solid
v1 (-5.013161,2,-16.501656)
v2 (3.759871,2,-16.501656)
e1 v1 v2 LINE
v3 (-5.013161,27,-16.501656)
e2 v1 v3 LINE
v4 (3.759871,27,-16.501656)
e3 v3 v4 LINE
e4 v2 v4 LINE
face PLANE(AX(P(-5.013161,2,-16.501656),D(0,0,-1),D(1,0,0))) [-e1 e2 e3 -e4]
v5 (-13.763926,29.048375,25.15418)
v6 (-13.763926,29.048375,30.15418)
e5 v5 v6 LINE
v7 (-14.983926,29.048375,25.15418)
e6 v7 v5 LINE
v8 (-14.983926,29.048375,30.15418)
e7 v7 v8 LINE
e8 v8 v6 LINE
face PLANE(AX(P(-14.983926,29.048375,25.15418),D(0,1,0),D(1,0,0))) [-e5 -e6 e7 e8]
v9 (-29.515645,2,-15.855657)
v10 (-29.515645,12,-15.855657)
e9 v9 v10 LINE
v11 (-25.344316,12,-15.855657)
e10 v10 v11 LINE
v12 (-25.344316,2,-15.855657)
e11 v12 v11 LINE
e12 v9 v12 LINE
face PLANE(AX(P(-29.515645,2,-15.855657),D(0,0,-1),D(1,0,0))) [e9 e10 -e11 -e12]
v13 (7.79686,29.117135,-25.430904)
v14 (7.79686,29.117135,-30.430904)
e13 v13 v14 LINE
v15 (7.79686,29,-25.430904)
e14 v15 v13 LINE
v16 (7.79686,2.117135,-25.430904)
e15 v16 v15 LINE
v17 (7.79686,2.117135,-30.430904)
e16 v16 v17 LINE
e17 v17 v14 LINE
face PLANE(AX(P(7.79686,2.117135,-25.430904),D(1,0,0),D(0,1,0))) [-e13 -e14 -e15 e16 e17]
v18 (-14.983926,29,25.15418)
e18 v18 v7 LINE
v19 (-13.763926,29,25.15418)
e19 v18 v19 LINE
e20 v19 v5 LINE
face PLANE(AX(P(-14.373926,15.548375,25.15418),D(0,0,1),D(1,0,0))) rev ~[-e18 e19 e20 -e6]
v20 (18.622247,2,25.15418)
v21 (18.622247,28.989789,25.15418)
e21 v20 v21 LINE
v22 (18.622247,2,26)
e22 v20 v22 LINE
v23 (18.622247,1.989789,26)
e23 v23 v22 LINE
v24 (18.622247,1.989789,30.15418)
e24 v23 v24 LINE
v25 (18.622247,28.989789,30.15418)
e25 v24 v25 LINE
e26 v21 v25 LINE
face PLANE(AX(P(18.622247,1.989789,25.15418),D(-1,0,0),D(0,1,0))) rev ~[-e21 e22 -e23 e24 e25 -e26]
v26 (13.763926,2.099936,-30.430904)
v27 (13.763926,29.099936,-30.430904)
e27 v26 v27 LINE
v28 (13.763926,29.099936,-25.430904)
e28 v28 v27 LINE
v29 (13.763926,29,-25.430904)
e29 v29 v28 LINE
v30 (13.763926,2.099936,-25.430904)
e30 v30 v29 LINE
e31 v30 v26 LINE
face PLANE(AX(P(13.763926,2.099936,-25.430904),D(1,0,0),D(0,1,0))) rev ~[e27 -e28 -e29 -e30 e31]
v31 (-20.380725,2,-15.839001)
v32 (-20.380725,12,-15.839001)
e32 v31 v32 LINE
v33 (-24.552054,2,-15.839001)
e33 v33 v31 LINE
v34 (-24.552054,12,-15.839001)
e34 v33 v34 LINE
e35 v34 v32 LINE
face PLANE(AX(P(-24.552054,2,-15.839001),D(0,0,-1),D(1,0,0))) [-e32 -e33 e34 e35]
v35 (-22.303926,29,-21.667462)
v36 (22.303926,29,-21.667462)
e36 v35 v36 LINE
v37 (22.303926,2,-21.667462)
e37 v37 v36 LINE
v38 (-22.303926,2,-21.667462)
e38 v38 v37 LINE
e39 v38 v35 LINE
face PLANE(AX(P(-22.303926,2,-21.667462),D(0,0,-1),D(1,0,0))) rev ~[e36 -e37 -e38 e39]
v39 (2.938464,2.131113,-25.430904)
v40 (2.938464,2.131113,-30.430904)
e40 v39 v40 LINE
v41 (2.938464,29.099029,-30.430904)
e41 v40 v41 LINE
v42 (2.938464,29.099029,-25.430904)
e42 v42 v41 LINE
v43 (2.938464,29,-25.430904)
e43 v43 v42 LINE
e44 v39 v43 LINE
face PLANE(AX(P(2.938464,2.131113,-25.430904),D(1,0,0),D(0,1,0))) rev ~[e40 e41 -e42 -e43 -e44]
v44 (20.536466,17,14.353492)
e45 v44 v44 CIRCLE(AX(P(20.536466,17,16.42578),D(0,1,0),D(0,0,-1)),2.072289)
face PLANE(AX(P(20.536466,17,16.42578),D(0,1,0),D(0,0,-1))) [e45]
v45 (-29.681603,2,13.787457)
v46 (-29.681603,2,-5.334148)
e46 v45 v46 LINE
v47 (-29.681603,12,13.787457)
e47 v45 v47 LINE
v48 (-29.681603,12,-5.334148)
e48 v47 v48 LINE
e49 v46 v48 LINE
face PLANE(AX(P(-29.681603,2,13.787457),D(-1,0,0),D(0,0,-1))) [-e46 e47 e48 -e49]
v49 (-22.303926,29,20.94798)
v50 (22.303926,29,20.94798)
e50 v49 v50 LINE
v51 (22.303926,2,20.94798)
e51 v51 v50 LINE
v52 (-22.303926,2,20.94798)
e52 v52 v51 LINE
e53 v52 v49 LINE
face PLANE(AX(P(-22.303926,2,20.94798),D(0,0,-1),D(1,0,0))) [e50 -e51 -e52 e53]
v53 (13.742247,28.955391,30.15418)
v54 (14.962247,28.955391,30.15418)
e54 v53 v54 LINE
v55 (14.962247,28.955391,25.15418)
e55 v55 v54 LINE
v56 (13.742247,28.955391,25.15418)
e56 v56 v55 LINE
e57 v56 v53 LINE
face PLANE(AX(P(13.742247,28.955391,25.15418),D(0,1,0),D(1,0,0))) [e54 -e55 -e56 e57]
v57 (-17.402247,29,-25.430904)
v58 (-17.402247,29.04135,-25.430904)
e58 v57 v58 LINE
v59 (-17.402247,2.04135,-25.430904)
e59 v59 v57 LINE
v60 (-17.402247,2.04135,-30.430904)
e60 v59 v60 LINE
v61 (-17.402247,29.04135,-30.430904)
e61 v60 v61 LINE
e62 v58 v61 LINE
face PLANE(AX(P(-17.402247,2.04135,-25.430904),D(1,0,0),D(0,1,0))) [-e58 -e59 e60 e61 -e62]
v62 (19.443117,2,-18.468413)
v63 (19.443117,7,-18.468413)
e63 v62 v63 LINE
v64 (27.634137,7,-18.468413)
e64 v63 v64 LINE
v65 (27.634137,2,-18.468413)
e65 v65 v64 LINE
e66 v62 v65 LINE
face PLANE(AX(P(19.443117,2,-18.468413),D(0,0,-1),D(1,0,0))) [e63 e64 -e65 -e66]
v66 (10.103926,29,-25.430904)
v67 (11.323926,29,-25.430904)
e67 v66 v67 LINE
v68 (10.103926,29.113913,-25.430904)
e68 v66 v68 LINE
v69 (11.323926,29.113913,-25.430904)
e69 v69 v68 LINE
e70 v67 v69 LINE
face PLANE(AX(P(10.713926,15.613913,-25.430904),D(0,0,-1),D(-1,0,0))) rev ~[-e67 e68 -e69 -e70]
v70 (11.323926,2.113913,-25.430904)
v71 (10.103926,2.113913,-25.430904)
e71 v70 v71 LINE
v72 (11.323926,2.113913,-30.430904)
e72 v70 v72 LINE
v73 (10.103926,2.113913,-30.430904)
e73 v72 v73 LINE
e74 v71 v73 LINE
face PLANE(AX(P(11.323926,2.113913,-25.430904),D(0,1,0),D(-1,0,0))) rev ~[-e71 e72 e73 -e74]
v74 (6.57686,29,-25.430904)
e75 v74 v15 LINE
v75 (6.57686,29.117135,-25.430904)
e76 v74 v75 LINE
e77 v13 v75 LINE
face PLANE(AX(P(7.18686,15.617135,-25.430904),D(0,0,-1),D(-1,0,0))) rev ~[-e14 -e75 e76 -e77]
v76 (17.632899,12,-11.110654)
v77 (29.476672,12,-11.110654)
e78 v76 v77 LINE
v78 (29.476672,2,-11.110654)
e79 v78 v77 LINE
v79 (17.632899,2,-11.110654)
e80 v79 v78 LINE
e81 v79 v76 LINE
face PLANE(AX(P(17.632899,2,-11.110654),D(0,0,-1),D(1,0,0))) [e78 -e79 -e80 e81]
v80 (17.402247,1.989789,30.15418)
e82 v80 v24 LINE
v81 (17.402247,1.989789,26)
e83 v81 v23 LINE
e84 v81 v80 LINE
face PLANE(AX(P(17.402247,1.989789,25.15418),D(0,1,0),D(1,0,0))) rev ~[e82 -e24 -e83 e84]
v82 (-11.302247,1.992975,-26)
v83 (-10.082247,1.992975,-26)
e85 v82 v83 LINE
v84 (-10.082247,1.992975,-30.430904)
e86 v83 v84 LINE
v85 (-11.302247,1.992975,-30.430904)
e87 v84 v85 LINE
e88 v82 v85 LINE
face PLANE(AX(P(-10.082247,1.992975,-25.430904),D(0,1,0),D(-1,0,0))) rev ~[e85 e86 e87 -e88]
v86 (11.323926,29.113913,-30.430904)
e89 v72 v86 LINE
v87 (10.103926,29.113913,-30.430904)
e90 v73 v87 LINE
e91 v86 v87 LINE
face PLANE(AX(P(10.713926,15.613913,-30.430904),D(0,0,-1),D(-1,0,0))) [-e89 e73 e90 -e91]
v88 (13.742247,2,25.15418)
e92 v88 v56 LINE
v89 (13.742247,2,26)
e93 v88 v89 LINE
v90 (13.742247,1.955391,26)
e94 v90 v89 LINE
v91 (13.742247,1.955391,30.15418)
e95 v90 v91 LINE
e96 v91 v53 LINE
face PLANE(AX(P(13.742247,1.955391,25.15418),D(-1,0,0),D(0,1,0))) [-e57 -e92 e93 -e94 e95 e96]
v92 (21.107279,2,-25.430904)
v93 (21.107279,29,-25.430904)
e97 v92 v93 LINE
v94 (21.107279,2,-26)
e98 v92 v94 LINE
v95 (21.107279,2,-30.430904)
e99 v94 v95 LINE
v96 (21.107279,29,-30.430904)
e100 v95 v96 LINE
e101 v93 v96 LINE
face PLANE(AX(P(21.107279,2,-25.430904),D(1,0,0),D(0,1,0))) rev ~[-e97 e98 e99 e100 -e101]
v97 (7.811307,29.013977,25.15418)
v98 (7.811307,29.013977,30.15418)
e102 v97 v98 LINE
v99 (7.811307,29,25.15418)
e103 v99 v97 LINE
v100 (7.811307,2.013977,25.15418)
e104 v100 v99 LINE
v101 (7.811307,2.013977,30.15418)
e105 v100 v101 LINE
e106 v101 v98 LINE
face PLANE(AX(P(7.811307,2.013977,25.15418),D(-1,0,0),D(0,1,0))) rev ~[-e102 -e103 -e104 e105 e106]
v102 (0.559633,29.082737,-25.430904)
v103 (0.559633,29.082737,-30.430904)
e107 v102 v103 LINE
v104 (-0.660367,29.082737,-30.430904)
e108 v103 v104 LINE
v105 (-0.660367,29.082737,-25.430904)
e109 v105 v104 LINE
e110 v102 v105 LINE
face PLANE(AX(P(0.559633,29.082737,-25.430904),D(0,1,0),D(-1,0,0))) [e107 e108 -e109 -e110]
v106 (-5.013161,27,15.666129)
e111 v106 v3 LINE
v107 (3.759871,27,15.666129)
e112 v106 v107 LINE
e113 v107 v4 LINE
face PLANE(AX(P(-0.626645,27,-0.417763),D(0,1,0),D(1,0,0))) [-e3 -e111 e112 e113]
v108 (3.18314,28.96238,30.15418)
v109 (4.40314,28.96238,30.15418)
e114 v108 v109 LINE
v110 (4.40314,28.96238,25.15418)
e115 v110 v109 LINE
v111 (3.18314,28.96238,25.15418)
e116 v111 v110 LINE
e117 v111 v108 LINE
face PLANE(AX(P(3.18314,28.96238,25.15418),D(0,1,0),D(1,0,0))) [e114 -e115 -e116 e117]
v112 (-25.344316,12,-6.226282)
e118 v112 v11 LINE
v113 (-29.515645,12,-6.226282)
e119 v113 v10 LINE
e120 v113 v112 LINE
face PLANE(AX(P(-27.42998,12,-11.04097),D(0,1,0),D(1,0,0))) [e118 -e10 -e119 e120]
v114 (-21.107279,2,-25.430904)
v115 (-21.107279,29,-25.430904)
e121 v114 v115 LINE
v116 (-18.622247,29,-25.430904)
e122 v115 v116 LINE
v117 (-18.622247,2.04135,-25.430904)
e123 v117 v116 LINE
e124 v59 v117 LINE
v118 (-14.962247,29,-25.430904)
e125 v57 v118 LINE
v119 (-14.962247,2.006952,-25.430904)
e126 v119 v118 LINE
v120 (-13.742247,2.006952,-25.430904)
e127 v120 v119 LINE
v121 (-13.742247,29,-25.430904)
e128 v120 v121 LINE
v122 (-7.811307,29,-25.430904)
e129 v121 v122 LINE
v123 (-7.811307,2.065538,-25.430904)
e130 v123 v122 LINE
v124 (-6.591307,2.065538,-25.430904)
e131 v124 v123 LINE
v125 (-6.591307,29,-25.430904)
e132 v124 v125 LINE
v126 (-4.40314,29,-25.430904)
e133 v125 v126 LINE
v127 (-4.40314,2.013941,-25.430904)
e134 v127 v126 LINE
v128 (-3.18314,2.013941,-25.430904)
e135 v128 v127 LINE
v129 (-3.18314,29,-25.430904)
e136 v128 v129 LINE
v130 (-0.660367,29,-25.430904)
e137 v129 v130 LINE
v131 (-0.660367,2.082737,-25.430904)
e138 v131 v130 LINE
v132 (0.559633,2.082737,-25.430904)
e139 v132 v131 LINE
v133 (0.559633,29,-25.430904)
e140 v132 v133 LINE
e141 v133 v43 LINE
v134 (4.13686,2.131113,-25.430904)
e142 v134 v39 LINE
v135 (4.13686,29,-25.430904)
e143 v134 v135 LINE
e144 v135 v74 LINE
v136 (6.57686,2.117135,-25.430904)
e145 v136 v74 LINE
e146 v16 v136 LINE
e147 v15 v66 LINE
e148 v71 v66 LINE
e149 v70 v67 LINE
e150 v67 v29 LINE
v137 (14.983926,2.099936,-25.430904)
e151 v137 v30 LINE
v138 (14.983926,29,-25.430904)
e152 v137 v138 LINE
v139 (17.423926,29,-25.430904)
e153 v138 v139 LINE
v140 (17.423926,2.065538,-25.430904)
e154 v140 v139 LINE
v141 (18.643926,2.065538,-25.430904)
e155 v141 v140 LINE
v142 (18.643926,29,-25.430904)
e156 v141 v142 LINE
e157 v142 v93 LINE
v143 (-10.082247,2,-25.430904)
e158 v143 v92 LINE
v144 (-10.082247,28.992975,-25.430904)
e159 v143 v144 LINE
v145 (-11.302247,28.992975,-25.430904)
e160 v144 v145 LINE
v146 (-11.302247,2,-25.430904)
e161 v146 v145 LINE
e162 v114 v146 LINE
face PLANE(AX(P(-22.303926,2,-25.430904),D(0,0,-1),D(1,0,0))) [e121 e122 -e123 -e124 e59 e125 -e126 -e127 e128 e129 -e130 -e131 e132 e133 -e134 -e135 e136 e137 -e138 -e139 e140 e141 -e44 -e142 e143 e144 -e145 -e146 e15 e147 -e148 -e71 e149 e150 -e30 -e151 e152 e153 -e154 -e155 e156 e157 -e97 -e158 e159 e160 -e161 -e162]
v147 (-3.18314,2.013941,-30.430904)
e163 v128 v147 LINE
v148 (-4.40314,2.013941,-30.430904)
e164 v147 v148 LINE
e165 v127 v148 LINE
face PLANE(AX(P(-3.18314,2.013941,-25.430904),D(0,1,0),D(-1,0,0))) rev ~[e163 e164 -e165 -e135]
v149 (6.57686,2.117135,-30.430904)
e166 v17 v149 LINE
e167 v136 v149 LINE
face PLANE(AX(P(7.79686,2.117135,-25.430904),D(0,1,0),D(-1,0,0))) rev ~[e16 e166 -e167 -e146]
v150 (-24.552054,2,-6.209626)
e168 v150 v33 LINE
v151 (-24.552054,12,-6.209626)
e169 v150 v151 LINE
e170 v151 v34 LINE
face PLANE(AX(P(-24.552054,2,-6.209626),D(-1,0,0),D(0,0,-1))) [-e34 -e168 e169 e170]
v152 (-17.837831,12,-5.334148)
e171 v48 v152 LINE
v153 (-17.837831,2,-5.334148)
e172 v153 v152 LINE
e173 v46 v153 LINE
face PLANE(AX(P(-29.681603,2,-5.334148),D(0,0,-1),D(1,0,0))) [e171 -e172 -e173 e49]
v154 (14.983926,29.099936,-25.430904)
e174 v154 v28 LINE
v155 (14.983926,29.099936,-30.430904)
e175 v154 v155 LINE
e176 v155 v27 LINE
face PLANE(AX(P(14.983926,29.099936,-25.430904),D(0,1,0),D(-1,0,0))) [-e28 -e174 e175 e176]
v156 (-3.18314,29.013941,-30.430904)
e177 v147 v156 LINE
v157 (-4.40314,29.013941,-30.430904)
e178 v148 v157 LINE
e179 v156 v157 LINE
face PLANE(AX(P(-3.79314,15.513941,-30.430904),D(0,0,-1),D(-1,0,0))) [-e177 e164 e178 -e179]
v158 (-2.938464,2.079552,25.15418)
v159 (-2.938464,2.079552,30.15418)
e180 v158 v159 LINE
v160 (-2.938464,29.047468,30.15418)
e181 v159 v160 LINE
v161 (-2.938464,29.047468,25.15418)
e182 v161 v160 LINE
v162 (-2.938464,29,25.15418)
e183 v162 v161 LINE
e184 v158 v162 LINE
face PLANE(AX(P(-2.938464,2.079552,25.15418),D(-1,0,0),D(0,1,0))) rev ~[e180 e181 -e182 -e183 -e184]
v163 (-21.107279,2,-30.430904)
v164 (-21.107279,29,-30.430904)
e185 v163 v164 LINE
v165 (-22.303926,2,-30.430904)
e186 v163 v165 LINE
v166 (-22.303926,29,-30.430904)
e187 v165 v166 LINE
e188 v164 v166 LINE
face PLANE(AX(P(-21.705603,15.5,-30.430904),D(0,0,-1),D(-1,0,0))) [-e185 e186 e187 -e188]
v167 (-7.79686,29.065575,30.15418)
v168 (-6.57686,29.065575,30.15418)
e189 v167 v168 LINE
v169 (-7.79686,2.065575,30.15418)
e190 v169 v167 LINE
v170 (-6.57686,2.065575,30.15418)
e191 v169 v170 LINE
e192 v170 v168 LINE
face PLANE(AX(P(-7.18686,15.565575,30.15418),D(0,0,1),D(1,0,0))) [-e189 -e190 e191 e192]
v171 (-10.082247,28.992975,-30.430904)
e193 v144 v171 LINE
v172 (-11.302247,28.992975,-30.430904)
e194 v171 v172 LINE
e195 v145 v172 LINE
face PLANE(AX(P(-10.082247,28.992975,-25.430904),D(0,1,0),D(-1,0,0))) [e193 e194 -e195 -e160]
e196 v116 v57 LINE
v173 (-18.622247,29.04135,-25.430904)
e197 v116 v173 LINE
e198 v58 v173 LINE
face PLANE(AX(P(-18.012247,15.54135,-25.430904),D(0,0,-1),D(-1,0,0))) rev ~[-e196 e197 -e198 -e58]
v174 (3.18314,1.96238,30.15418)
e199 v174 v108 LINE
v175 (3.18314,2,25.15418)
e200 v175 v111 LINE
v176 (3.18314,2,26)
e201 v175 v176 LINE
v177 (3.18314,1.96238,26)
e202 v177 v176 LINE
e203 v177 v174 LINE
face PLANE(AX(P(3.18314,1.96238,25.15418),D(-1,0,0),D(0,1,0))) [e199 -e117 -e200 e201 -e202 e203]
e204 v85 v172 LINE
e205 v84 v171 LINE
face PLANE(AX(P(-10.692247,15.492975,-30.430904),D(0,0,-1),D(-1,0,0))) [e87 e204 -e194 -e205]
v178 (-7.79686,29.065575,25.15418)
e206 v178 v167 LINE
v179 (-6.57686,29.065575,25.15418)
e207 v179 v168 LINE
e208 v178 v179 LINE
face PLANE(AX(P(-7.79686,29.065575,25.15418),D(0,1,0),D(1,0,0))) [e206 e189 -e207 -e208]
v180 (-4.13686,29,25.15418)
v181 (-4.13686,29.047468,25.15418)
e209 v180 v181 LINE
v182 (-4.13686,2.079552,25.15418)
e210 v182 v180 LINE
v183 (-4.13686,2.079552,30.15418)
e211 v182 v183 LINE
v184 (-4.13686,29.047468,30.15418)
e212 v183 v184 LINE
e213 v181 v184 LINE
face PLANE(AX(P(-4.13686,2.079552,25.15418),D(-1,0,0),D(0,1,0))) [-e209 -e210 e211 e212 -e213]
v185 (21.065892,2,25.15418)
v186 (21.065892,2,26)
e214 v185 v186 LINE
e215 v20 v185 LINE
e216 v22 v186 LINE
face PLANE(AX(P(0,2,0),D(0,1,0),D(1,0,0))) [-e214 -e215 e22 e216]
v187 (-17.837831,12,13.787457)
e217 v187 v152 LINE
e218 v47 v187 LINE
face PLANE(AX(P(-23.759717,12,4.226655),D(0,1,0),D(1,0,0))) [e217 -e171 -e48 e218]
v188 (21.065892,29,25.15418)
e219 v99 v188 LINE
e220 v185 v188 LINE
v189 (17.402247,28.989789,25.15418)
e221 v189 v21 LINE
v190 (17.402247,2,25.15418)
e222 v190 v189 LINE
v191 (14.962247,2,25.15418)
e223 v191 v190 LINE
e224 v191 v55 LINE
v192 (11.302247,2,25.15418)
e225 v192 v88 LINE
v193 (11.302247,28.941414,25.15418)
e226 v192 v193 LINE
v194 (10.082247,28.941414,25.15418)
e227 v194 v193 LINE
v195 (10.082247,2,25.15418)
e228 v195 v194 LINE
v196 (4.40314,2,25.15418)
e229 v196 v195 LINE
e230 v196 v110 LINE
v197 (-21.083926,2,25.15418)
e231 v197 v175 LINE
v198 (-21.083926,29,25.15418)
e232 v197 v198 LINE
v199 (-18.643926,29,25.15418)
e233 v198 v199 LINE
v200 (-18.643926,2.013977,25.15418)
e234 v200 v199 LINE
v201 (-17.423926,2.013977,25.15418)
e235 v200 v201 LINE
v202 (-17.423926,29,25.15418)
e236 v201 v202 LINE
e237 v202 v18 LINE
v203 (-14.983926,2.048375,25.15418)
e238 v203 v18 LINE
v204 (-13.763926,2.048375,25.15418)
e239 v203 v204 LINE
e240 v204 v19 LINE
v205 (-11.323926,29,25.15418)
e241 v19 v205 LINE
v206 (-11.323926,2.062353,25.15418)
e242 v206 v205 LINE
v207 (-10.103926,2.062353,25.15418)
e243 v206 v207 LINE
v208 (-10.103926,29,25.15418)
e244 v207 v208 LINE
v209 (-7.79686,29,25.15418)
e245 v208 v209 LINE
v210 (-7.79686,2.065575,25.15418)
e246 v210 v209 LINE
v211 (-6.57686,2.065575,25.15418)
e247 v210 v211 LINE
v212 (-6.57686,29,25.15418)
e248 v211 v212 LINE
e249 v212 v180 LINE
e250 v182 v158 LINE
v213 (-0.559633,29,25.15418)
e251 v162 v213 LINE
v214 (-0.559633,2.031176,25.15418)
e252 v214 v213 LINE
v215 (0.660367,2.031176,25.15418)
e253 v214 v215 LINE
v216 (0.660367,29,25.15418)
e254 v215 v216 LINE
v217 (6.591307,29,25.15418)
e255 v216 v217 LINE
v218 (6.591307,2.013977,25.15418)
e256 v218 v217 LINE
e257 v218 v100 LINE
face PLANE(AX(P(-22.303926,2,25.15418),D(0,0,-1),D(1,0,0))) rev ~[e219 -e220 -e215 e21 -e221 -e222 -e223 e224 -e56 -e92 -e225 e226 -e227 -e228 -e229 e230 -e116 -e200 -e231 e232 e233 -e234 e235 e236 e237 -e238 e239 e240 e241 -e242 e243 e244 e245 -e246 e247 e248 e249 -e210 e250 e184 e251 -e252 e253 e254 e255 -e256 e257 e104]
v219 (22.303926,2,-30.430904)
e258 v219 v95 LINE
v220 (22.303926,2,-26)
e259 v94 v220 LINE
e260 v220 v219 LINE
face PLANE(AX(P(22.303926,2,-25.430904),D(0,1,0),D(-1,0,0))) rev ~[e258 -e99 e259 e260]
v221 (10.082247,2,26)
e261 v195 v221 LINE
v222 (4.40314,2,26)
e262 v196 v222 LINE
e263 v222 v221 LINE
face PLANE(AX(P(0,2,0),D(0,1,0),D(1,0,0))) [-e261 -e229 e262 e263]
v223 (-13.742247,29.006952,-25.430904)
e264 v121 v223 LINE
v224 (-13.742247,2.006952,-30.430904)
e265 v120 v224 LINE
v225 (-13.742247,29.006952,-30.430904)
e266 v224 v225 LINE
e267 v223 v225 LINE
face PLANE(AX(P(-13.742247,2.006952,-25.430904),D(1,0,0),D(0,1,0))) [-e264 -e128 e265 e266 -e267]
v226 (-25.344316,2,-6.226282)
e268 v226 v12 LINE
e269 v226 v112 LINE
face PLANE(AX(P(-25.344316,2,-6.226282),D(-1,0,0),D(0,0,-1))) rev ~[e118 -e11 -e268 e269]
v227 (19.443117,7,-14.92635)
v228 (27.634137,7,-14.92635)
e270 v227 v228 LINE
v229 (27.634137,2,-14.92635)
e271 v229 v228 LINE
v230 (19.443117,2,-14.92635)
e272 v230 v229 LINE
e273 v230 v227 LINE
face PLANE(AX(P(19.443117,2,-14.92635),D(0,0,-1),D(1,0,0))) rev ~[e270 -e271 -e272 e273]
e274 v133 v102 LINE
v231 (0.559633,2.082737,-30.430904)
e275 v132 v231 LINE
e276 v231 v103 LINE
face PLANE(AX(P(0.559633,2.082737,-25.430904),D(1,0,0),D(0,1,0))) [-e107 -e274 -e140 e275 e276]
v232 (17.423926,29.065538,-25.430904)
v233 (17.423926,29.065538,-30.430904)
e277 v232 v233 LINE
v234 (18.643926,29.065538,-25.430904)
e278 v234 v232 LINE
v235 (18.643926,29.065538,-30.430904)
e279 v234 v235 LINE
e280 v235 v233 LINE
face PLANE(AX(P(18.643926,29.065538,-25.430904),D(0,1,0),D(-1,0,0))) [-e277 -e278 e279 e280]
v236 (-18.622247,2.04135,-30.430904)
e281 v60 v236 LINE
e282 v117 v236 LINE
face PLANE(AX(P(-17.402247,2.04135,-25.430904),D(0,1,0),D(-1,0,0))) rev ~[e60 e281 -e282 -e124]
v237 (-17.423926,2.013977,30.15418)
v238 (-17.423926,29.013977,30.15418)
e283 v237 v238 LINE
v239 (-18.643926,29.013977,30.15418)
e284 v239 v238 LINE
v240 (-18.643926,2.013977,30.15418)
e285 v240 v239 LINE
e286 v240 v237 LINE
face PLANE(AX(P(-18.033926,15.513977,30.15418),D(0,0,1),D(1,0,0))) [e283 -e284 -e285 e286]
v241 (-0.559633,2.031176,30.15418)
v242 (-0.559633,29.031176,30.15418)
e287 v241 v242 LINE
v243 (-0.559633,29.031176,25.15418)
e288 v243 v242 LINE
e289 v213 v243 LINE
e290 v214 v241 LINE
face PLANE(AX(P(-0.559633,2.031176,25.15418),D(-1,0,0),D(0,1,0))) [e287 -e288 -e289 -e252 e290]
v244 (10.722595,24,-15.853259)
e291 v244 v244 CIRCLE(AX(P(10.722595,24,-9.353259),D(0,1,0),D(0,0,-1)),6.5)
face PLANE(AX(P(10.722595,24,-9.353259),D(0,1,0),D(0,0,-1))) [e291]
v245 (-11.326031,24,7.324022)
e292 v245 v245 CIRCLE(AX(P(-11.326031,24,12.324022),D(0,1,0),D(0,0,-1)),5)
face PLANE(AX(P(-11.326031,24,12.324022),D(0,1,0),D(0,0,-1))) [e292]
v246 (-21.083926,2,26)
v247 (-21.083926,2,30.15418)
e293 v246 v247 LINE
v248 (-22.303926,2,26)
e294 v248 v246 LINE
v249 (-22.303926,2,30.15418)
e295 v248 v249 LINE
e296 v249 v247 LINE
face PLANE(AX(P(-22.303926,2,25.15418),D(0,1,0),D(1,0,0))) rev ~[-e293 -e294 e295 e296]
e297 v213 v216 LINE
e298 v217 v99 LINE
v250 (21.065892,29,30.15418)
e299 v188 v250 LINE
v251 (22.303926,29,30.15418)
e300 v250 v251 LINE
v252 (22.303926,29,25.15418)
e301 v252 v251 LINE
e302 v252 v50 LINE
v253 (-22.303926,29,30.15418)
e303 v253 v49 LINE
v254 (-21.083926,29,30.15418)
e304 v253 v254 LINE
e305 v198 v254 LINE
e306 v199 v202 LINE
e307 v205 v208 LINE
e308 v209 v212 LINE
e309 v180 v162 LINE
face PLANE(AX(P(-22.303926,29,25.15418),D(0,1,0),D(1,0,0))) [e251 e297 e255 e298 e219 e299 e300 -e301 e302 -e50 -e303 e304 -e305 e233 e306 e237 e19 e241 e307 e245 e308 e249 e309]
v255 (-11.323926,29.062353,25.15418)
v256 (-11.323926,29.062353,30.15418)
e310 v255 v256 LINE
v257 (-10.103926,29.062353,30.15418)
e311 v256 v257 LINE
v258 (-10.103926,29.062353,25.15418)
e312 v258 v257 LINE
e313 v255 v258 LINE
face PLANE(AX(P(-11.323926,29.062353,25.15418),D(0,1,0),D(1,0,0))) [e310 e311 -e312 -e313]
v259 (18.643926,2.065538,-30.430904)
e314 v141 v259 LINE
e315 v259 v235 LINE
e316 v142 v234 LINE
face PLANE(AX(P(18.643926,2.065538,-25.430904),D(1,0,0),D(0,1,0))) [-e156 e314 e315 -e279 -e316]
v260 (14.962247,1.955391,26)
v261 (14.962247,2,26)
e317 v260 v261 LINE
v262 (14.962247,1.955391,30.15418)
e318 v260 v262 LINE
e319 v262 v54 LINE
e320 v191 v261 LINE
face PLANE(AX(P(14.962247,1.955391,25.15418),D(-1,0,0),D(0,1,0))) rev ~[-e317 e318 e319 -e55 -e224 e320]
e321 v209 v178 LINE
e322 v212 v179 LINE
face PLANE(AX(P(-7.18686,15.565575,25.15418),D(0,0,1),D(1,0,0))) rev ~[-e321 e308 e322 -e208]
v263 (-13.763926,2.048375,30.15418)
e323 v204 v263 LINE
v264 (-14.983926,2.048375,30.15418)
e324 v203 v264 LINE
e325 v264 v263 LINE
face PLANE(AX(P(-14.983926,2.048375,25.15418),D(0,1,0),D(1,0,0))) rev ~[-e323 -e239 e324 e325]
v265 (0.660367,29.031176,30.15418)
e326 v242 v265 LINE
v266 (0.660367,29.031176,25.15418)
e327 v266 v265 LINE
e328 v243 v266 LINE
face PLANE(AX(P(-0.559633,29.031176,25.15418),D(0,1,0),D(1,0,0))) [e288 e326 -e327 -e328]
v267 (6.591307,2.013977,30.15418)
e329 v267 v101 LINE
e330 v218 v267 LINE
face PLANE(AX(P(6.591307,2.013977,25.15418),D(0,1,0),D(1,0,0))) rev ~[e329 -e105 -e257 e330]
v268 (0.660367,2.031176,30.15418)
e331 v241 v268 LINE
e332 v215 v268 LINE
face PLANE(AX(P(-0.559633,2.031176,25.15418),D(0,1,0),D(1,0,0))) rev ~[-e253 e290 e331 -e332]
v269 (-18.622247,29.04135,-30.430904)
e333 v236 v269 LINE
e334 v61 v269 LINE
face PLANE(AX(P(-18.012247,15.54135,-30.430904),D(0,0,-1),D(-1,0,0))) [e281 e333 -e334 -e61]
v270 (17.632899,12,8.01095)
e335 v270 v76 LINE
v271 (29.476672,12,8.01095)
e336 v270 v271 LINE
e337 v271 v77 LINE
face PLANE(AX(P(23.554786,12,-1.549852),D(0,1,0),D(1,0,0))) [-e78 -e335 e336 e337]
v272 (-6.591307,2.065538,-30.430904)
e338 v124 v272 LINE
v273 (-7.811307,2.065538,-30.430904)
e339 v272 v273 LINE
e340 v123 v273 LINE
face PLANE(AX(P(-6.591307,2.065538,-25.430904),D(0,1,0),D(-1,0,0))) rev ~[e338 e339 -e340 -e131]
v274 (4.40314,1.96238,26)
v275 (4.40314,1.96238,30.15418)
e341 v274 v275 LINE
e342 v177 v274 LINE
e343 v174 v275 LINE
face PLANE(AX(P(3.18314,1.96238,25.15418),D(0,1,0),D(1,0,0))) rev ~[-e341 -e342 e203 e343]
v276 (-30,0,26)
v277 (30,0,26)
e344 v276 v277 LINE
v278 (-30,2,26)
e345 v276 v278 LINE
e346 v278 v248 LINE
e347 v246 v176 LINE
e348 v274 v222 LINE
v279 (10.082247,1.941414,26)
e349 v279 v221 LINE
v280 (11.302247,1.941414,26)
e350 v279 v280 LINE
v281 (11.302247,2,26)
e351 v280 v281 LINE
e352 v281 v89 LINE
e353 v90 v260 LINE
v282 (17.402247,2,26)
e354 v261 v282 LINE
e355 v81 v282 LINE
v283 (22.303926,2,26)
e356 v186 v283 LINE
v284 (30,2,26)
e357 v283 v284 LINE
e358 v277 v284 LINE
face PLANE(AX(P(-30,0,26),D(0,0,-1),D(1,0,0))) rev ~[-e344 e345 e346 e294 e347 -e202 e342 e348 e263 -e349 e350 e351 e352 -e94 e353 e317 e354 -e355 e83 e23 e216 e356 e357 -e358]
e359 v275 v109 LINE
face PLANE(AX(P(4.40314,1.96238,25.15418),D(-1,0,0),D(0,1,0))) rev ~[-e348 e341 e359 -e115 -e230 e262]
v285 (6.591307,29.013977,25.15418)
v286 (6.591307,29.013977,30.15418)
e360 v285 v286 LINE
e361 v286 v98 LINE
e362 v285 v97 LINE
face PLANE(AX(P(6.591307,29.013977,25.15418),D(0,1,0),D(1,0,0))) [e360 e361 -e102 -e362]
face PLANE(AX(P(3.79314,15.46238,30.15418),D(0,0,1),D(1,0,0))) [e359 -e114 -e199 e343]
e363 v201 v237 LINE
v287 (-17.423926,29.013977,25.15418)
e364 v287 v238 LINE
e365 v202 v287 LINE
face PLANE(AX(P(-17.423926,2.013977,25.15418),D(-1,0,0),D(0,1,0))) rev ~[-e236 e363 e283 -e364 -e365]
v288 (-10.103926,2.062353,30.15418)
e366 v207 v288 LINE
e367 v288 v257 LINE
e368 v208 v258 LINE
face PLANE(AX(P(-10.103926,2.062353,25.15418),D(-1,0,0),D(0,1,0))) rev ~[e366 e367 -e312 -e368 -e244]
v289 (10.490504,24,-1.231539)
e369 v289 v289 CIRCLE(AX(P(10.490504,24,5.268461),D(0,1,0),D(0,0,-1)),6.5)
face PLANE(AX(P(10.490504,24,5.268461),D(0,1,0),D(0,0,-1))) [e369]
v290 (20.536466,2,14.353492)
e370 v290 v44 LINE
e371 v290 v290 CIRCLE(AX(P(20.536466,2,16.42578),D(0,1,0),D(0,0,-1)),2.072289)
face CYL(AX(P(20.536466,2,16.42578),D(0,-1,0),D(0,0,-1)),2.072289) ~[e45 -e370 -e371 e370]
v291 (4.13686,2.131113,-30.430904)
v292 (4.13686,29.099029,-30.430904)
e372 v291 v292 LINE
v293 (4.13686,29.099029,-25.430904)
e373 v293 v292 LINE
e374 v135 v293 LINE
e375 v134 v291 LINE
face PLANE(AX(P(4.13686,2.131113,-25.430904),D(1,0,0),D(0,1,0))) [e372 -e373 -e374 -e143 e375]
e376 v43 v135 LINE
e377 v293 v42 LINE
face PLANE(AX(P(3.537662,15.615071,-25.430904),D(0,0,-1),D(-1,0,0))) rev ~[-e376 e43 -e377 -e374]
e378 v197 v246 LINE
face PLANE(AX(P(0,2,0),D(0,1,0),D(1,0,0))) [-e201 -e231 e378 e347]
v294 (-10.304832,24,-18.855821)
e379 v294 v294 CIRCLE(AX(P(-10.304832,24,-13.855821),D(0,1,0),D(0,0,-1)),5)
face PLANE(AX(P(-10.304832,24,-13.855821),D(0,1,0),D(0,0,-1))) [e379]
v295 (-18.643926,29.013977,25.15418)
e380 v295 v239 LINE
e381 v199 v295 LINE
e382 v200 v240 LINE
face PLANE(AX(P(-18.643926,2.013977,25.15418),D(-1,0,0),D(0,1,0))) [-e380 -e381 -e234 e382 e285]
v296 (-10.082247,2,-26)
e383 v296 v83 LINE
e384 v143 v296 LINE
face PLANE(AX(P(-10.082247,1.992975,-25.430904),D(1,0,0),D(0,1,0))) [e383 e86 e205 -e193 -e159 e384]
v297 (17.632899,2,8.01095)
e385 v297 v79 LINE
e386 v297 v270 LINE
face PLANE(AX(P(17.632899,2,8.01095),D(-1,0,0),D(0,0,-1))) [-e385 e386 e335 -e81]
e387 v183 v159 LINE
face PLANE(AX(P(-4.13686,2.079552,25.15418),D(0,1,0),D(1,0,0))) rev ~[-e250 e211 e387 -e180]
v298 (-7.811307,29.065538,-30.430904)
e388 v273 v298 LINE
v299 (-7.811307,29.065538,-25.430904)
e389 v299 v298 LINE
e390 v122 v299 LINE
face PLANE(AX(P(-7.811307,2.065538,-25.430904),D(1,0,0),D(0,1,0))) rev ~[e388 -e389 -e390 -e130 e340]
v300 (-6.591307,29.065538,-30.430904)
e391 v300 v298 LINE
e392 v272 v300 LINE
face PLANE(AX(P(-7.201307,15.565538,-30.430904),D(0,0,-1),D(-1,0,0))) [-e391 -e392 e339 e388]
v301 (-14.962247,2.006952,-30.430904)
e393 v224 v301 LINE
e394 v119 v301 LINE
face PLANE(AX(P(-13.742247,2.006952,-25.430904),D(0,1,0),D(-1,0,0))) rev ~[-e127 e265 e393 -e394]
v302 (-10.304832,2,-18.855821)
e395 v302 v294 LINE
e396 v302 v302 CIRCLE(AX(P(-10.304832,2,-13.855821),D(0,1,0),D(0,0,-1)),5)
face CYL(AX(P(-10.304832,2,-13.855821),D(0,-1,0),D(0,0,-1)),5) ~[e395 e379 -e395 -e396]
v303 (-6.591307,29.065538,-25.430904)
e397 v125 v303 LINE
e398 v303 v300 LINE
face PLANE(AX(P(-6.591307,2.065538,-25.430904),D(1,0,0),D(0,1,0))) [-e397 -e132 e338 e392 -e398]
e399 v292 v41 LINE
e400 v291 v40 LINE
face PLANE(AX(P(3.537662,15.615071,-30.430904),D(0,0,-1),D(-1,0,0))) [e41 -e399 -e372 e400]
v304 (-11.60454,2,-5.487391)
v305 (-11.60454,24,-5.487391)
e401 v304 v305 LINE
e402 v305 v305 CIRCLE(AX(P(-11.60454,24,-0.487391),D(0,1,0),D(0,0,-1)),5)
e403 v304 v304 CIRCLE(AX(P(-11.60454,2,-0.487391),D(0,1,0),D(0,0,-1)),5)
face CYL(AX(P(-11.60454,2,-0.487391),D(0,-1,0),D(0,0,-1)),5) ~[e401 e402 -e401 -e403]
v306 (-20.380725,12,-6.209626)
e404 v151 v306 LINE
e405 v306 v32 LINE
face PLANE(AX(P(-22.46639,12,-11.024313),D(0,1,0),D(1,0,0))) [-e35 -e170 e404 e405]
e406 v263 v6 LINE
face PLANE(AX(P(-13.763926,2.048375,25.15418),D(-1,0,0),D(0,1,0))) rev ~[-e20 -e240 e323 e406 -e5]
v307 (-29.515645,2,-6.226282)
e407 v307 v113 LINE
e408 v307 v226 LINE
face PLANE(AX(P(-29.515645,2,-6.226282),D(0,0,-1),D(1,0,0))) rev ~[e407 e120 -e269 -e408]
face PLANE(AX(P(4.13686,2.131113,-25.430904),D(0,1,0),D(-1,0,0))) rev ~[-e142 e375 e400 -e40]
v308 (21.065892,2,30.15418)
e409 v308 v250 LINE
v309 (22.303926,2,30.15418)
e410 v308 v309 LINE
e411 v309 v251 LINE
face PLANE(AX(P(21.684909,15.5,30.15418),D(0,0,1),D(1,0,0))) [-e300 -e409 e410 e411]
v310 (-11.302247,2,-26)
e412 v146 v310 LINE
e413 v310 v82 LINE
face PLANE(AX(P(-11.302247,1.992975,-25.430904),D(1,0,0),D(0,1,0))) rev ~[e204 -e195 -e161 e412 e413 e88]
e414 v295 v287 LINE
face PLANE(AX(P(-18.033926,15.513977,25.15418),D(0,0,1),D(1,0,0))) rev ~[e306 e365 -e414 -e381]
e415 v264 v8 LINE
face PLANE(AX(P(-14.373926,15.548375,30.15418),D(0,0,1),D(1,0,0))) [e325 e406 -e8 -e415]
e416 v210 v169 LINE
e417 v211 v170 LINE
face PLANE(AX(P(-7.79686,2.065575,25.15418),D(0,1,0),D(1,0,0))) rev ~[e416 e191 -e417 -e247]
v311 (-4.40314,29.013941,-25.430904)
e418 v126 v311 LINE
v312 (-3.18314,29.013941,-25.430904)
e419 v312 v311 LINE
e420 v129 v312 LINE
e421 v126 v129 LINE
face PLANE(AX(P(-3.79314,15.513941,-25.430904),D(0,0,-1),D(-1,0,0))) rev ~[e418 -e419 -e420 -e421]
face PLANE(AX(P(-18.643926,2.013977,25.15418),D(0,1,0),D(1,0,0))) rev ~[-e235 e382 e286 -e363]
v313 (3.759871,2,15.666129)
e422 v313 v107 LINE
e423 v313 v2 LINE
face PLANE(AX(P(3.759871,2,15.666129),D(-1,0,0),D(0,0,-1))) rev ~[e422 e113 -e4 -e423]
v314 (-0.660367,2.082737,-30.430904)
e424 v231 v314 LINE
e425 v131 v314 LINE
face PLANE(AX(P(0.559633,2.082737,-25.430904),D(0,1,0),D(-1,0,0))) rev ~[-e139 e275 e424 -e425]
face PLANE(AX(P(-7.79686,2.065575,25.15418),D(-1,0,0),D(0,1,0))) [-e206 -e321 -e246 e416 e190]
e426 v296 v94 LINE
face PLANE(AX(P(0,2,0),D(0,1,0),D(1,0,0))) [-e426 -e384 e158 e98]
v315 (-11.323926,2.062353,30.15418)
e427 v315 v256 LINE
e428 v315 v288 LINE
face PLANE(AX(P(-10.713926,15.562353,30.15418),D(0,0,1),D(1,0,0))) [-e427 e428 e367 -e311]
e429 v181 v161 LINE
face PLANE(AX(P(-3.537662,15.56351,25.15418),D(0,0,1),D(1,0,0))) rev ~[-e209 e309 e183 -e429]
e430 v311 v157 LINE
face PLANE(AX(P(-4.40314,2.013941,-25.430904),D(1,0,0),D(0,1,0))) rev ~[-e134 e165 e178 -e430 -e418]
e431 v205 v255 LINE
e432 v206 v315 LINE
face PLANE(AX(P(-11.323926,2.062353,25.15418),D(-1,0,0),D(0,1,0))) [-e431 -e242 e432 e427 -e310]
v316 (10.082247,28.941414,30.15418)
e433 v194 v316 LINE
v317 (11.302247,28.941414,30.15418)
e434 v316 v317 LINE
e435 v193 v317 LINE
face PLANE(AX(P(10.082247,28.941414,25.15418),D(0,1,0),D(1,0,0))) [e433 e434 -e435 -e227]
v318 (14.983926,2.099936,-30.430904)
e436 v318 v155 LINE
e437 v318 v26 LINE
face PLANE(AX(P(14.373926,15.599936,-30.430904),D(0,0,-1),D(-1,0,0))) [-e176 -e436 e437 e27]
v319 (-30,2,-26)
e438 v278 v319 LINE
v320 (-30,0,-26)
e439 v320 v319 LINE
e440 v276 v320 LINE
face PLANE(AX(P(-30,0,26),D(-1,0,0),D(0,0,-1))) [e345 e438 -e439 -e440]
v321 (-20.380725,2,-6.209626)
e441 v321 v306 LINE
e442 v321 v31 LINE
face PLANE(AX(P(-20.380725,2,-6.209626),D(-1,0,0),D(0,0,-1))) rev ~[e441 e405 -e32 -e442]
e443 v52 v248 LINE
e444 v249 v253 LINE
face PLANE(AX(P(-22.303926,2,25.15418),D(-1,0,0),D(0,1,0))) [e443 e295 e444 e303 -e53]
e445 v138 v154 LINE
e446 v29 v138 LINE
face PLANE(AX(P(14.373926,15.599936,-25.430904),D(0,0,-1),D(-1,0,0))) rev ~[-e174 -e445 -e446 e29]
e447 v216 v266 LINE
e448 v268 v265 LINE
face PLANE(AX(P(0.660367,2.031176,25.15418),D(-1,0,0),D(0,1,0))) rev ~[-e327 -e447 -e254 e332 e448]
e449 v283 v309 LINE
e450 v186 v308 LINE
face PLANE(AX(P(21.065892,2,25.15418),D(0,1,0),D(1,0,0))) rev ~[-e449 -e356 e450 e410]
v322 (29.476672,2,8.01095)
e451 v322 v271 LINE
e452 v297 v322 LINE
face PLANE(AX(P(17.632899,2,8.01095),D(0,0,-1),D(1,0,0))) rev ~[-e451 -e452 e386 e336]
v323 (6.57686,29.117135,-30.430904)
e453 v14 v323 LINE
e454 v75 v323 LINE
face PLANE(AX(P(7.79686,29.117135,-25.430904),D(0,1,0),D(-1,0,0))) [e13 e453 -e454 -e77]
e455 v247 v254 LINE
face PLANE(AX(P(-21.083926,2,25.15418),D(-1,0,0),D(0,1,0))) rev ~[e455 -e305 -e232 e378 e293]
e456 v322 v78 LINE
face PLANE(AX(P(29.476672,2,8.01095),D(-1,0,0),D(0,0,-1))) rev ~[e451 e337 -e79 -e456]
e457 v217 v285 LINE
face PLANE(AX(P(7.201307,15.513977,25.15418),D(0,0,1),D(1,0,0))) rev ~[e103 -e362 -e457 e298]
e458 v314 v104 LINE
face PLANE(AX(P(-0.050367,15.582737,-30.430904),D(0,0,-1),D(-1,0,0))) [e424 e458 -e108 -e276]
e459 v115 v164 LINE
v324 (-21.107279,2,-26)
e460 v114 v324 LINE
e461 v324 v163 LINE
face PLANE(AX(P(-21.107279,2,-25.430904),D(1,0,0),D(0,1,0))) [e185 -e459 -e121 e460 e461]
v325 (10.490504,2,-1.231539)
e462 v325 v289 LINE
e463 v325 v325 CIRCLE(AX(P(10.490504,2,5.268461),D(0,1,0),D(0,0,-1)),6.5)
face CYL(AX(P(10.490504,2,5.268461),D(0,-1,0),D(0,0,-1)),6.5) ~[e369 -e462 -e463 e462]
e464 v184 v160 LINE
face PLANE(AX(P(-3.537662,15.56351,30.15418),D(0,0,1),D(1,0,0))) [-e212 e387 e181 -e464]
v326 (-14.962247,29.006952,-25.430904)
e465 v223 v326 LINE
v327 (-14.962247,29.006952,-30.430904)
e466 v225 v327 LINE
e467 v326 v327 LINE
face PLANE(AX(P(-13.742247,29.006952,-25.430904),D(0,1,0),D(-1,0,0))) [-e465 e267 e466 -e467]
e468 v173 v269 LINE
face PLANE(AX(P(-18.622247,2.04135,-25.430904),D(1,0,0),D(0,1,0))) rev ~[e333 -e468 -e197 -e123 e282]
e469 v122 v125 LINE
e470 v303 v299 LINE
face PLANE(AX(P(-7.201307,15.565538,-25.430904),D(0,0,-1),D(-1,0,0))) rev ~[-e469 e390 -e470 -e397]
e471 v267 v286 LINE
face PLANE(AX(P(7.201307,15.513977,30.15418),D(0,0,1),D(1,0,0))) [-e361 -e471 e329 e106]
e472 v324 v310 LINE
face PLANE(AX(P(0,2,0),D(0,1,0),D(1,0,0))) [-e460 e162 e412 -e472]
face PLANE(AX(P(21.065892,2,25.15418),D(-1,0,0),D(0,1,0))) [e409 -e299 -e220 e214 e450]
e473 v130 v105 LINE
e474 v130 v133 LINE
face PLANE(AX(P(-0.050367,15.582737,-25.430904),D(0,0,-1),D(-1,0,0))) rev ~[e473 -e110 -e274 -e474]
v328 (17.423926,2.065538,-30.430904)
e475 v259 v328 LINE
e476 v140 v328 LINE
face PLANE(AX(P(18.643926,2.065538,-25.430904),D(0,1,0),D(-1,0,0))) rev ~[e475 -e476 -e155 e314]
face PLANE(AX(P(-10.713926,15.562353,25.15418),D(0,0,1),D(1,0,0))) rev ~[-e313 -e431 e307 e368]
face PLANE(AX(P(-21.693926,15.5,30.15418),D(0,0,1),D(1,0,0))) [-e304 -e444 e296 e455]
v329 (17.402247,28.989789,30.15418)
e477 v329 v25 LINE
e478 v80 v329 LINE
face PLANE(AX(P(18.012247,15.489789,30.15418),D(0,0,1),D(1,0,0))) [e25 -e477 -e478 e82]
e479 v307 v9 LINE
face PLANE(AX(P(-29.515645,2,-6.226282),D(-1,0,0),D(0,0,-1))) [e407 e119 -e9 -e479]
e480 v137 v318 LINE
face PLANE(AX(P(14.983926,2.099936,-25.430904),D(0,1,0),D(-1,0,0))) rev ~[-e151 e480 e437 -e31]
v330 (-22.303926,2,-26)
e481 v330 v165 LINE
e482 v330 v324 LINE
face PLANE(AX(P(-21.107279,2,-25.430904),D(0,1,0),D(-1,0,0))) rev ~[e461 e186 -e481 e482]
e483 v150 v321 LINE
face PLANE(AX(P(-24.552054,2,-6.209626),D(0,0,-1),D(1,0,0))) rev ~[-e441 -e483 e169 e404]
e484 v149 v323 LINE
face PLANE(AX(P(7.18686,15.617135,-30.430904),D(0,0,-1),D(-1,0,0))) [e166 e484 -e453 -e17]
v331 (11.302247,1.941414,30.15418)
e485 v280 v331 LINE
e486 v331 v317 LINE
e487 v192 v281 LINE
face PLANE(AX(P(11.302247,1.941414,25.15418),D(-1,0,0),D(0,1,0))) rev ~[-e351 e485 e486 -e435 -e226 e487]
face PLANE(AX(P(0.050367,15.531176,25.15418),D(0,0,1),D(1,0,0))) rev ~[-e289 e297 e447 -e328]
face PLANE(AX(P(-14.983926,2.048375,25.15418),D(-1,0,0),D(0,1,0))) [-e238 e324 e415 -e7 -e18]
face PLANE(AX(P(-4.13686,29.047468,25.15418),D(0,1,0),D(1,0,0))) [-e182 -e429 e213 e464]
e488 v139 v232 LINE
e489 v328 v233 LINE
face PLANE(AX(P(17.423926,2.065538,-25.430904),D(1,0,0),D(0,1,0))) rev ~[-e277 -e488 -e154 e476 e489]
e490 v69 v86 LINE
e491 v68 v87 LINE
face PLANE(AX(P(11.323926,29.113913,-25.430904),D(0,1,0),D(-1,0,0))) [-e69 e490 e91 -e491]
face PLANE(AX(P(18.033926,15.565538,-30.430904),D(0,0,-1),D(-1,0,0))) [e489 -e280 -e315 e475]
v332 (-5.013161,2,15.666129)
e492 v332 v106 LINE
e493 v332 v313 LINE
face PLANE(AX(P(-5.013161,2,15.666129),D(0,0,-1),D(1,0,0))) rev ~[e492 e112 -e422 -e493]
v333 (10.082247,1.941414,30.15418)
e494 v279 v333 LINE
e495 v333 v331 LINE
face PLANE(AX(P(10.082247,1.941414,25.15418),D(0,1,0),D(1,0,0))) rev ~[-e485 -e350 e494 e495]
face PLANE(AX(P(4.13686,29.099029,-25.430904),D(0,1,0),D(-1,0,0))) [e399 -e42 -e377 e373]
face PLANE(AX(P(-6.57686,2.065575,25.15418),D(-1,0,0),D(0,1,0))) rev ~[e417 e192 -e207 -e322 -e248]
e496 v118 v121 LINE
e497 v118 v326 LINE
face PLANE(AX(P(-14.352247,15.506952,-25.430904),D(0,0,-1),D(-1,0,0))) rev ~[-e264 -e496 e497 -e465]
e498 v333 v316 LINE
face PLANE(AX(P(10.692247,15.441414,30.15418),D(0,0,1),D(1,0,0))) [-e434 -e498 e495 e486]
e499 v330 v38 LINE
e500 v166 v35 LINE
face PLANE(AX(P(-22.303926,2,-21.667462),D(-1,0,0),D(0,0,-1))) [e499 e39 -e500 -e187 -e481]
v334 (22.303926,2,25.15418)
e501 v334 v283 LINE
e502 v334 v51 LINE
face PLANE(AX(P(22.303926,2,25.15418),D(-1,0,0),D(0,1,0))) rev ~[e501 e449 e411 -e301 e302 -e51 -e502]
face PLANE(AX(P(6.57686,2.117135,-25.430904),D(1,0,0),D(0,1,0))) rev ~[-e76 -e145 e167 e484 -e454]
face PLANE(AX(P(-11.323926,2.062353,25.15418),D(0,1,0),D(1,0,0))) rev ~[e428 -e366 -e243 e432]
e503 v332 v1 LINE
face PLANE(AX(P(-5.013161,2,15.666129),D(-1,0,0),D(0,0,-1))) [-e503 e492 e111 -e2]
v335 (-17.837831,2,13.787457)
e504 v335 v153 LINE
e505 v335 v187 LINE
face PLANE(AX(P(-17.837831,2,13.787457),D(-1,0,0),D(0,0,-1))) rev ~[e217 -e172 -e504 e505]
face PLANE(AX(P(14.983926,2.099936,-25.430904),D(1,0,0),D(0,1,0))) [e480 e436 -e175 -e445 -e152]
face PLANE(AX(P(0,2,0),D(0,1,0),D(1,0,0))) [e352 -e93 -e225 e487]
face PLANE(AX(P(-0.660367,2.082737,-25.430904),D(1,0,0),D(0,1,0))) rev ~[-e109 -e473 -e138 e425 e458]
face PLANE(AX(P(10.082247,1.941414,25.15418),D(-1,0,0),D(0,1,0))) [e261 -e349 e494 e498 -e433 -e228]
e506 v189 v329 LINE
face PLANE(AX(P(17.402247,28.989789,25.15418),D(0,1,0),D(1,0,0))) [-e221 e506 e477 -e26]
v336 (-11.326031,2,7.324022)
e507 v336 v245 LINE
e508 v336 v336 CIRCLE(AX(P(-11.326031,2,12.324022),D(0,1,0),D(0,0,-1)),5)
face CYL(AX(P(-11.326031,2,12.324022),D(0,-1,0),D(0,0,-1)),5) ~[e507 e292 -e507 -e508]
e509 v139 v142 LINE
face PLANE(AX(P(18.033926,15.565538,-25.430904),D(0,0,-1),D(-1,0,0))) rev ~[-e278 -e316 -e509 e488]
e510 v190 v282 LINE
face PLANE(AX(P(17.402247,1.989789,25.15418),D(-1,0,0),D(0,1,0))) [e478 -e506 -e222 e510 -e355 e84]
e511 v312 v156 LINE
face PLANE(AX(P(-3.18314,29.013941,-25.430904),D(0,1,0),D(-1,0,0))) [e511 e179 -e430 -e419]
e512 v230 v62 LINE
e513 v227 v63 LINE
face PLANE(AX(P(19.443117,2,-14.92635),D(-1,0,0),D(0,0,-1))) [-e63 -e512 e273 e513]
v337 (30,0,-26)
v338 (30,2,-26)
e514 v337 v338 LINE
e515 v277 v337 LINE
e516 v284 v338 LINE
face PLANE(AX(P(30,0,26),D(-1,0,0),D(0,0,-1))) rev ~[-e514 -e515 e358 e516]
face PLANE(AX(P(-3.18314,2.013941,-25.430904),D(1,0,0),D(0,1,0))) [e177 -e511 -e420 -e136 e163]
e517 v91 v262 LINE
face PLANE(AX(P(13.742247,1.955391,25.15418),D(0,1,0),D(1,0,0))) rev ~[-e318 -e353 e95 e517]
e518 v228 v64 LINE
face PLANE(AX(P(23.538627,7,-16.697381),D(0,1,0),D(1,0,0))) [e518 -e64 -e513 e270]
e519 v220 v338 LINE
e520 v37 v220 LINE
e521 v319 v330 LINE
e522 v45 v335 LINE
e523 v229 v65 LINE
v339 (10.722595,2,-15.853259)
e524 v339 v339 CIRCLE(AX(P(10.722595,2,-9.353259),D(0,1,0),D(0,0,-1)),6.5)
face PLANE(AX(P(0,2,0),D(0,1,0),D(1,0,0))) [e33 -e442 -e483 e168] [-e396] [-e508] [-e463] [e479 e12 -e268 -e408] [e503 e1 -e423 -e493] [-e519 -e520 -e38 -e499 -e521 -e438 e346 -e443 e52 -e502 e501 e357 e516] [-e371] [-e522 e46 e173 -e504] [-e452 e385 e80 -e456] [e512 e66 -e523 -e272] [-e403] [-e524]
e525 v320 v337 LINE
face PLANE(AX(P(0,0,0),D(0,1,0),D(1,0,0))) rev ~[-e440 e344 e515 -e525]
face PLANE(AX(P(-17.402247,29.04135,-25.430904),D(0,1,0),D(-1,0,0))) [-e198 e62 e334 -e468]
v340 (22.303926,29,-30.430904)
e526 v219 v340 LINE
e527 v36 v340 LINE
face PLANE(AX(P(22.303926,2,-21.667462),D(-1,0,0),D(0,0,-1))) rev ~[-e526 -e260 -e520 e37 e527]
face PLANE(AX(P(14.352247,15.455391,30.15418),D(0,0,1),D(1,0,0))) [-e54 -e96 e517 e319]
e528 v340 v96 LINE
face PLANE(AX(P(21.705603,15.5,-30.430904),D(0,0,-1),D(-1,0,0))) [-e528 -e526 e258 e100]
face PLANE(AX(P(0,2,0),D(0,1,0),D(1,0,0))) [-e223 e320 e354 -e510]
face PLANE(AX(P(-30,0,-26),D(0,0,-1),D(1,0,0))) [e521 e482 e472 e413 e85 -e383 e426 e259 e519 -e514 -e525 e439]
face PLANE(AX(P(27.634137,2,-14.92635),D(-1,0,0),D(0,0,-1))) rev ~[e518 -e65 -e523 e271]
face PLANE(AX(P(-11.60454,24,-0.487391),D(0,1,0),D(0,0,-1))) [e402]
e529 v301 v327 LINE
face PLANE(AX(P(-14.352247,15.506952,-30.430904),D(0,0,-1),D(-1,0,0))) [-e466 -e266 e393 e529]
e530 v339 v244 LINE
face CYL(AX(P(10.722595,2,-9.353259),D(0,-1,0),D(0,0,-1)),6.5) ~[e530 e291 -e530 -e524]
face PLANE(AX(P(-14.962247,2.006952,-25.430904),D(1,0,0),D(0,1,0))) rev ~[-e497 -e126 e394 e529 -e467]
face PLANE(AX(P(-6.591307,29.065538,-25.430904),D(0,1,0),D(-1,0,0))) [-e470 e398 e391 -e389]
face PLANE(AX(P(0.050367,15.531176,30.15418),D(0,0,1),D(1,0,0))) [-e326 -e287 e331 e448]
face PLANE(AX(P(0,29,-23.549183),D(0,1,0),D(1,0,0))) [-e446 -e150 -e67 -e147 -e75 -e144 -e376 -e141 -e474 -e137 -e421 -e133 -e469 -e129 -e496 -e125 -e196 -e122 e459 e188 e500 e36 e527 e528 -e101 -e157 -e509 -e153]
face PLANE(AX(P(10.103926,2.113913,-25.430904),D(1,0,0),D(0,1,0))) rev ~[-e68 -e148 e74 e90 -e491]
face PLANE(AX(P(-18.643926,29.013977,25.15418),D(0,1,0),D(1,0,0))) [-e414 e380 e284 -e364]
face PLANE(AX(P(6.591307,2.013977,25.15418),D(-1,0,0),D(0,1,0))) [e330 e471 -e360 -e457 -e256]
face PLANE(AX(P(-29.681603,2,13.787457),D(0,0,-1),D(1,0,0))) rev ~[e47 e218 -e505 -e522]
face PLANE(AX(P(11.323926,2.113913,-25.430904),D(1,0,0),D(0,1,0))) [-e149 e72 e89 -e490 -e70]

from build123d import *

# Parameters (mm, degrees)
SKIZZE1_W                        = 60
SKIZZE1_H                        = 52
AUFSATZ_LINEAR_AUSTRAGEN1_DEPTH  = 2
SKIZZE2_W                        = 4.171328817
SKIZZE2_H                        = 9.629375294
SKIZZE2_H_2                      = 9.629375295
AUFSATZ_LINEAR_AUSTRAGEN2_DEPTH  = 10
SKIZZE3_W                        = 11.843772269
SKIZZE3_H                        = 19.121604294
SKIZZE3_H_2                      = 19.121604293
AUFSATZ_LINEAR_AUSTRAGEN3_DEPTH  = 10
SKIZZE4_R                        = 2.072288809
AUFSATZ_LINEAR_AUSTRAGEN4_DEPTH  = 15
SKIZZE5_W                        = 8.191020073
SKIZZE5_H                        = 3.542062735
AUFSATZ_LINEAR_AUSTRAGEN5_DEPTH  = 5
SKIZZE6_W                        = 44.607852562
SKIZZE6_H                        = 3.763441655
SKIZZE6_H_2                      = 4.206199497
AUFSATZ_LINEAR_AUSTRAGEN6_DEPTH  = 27
SKIZZE7_R                        = 5
SKIZZE7_R_2                      = 6.5
AUFSATZ_LINEAR_AUSTRAGEN7_DEPTH  = 22
SKIZZE8_W                        = 8.773032398
SKIZZE8_H                        = 32.167785459
AUFSATZ_LINEAR_AUSTRAGEN8_DEPTH  = 25
SKIZZE9_W                        = 1.22
SKIZZE9_H                        = 27
SKIZZE9_W_2                      = 1.198395349
SKIZZE9_H_2                      = 26.967916188
SKIZZE9_W_3                      = 1.238034023
AUFSATZ_LINEAR_AUSTRAGEN9_DEPTH  = 5
SKIZZE10_W                       = 1.22
SKIZZE10_H                       = 27
SKIZZE10_W_2                     = 1.198395349
SKIZZE10_H_2                     = 26.967916188
SKIZZE10_W_3                     = 1.196647202
AUFSATZ_LINEAR_AUSTRAGEN10_DEPTH = 5


with BuildPart() as part:
    # Skizze1 → Aufsatz-Linear austragen1 (new body)
    with BuildSketch(Plane(origin=(0, 0, 0), x_dir=(1, 0, 0), z_dir=(0, 1, 0))):
        Rectangle(SKIZZE1_W, SKIZZE1_H)
    extrude(amount=AUFSATZ_LINEAR_AUSTRAGEN1_DEPTH)

    # Skizze2 → Aufsatz-Linear austragen2 (add)
    with BuildSketch(Plane(origin=(0, 2, 0), x_dir=(1, 0, 0), z_dir=(0, 1, 0))):
        with Locations((-27.429980224, 11.040969798)):
            Rectangle(SKIZZE2_W, SKIZZE2_H)
        with Locations((-22.466389845, 11.024313198)):
            Rectangle(SKIZZE2_W, SKIZZE2_H_2)
    extrude(amount=AUFSATZ_LINEAR_AUSTRAGEN2_DEPTH)

    # Skizze3 → Aufsatz-Linear austragen3 (add)
    with BuildSketch(Plane(origin=(0, 2, 0), x_dir=(1, 0, 0), z_dir=(0, 1, 0))):
        with Locations((23.554785505, 1.549851865)):
            Rectangle(SKIZZE3_W, SKIZZE3_H)
        with Locations((-23.759716727, -4.226654643)):
            Rectangle(SKIZZE3_W, SKIZZE3_H_2)
    extrude(amount=AUFSATZ_LINEAR_AUSTRAGEN3_DEPTH)

    # Skizze4 → Aufsatz-Linear austragen4 (add)
    with BuildSketch(Plane(origin=(0, 2, 0), x_dir=(1, 0, 0), z_dir=(0, 1, 0))):
        with Locations(Location((20.536465542, -16.425780337, 0), (0, 0, 90))):
            Circle(SKIZZE4_R)
    extrude(amount=AUFSATZ_LINEAR_AUSTRAGEN4_DEPTH)

    # Skizze5 → Aufsatz-Linear austragen5 (add)
    with BuildSketch(Plane(origin=(0, 2, 0), x_dir=(1, 0, 0), z_dir=(0, 1, 0))):
        with Locations((23.538626636, 16.697381153)):
            Rectangle(SKIZZE5_W, SKIZZE5_H)
    extrude(amount=AUFSATZ_LINEAR_AUSTRAGEN5_DEPTH)

    # Skizze6 → Aufsatz-Linear austragen6 (add)
    with BuildSketch(Plane(origin=(0, 2, 0), x_dir=(1, 0, 0), z_dir=(0, 1, 0))):
        with Locations((0, 23.549182712)):
            Rectangle(SKIZZE6_W, SKIZZE6_H)
        with Locations((0, -23.05108014)):
            Rectangle(SKIZZE6_W, SKIZZE6_H_2)
    extrude(amount=AUFSATZ_LINEAR_AUSTRAGEN6_DEPTH)

    # Skizze7 → Aufsatz-Linear austragen7 (add)
    with BuildSketch(Plane(origin=(0, 2, 0), x_dir=(1, 0, 0), z_dir=(0, 1, 0))):
        with Locations(Location((-11.604540209, 0.487390689, 0), (0, 0, 90))):
            Circle(SKIZZE7_R)
        with Locations(Location((-10.304831705, 13.855821009, 0), (0, 0, 90))):
            Circle(SKIZZE7_R)
        with Locations(Location((-11.326031244, -12.324021702, 0), (0, 0, 90))):
            Circle(SKIZZE7_R)
        with Locations(Location((10.722595153, 9.353259408, 0), (0, 0, 90))):
            Circle(SKIZZE7_R_2)
        with Locations(Location((10.490504349, -5.268461255, 0), (0, 0, 90))):
            Circle(SKIZZE7_R_2)
    extrude(amount=AUFSATZ_LINEAR_AUSTRAGEN7_DEPTH)

    # Skizze8 → Aufsatz-Linear austragen8 (add)
    with BuildSketch(Plane(origin=(0, 2, 0), x_dir=(1, 0, 0), z_dir=(0, 1, 0))):
        with Locations((-0.626645171, 0.417763447)):
            Rectangle(SKIZZE8_W, SKIZZE8_H)
    extrude(amount=AUFSATZ_LINEAR_AUSTRAGEN8_DEPTH)

    # Skizze9 → Aufsatz-Linear austragen9 (add)
    with BuildSketch(Plane.XY.offset(25.154179888)):
        with Locations((-21.693926281, 15.5)):
            Rectangle(SKIZZE9_W, SKIZZE9_H)
        with Locations((-18.033926281, 15.513977132)):
            Rectangle(SKIZZE9_W, SKIZZE9_H)
        with Locations((-14.373926281, 15.548375388)):
            Rectangle(SKIZZE9_W, SKIZZE9_H)
        with Locations((-10.713926281, 15.56235252)):
            Rectangle(SKIZZE9_W, SKIZZE9_H)
        with Locations((-7.186859691, 15.565574516)):
            Rectangle(SKIZZE9_W, SKIZZE9_H)
        with Locations((-3.537662017, 15.563509742)):
            Rectangle(SKIZZE9_W_2, SKIZZE9_H_2)
        with Locations((0.050366666, 15.53117626)):
            Rectangle(SKIZZE9_W, SKIZZE9_H)
        with Locations((3.793140309, 15.462379749)):
            Rectangle(SKIZZE9_W, SKIZZE9_H)
        with Locations((10.692247294, 15.44141405)):
            Rectangle(SKIZZE9_W, SKIZZE9_H)
        with Locations((14.352247294, 15.455391183)):
            Rectangle(SKIZZE9_W, SKIZZE9_H)
        with Locations((18.012247294, 15.489789438)):
            Rectangle(SKIZZE9_W, SKIZZE9_H)
        with Locations((7.20130698, 15.513977132)):
            Rectangle(SKIZZE9_W, SKIZZE9_H)
        with Locations((21.68490927, 15.5)):
            Rectangle(SKIZZE9_W_3, SKIZZE9_H)
    extrude(amount=AUFSATZ_LINEAR_AUSTRAGEN9_DEPTH)

    # Skizze10 → Aufsatz-Linear austragen10 (add)
    with BuildSketch(Plane(origin=(0, 0, -25.430903539), x_dir=(-1, 0, 0), z_dir=(0, 0, -1))):
        with Locations((-18.033926281, 15.565538052)):
            Rectangle(SKIZZE10_W, SKIZZE10_H)
        with Locations((-14.373926281, 15.599936307)):
            Rectangle(SKIZZE10_W, SKIZZE10_H)
        with Locations((-10.713926281, 15.61391344)):
            Rectangle(SKIZZE10_W, SKIZZE10_H)
        with Locations((-7.186859691, 15.617135435)):
            Rectangle(SKIZZE10_W, SKIZZE10_H)
        with Locations((-3.537662017, 15.615070662)):
            Rectangle(SKIZZE10_W_2, SKIZZE10_H_2)
        with Locations((0.050366666, 15.58273718)):
            Rectangle(SKIZZE10_W, SKIZZE10_H)
        with Locations((3.793140309, 15.513940668)):
            Rectangle(SKIZZE10_W, SKIZZE10_H)
        with Locations((10.692247294, 15.49297497)):
            Rectangle(SKIZZE10_W, SKIZZE10_H)
        with Locations((14.352247294, 15.506952102)):
            Rectangle(SKIZZE10_W, SKIZZE10_H)
        with Locations((18.012247294, 15.541350358)):
            Rectangle(SKIZZE10_W, SKIZZE10_H)
        with Locations((7.20130698, 15.565538052)):
            Rectangle(SKIZZE10_W, SKIZZE10_H)
        with Locations((-21.70560268, 15.5)):
            Rectangle(SKIZZE10_W_3, SKIZZE10_H)
        with Locations((21.70560268, 15.5)):
            Rectangle(SKIZZE10_W_3, SKIZZE10_H)
    extrude(amount=AUFSATZ_LINEAR_AUSTRAGEN10_DEPTH)


solid = part.part
